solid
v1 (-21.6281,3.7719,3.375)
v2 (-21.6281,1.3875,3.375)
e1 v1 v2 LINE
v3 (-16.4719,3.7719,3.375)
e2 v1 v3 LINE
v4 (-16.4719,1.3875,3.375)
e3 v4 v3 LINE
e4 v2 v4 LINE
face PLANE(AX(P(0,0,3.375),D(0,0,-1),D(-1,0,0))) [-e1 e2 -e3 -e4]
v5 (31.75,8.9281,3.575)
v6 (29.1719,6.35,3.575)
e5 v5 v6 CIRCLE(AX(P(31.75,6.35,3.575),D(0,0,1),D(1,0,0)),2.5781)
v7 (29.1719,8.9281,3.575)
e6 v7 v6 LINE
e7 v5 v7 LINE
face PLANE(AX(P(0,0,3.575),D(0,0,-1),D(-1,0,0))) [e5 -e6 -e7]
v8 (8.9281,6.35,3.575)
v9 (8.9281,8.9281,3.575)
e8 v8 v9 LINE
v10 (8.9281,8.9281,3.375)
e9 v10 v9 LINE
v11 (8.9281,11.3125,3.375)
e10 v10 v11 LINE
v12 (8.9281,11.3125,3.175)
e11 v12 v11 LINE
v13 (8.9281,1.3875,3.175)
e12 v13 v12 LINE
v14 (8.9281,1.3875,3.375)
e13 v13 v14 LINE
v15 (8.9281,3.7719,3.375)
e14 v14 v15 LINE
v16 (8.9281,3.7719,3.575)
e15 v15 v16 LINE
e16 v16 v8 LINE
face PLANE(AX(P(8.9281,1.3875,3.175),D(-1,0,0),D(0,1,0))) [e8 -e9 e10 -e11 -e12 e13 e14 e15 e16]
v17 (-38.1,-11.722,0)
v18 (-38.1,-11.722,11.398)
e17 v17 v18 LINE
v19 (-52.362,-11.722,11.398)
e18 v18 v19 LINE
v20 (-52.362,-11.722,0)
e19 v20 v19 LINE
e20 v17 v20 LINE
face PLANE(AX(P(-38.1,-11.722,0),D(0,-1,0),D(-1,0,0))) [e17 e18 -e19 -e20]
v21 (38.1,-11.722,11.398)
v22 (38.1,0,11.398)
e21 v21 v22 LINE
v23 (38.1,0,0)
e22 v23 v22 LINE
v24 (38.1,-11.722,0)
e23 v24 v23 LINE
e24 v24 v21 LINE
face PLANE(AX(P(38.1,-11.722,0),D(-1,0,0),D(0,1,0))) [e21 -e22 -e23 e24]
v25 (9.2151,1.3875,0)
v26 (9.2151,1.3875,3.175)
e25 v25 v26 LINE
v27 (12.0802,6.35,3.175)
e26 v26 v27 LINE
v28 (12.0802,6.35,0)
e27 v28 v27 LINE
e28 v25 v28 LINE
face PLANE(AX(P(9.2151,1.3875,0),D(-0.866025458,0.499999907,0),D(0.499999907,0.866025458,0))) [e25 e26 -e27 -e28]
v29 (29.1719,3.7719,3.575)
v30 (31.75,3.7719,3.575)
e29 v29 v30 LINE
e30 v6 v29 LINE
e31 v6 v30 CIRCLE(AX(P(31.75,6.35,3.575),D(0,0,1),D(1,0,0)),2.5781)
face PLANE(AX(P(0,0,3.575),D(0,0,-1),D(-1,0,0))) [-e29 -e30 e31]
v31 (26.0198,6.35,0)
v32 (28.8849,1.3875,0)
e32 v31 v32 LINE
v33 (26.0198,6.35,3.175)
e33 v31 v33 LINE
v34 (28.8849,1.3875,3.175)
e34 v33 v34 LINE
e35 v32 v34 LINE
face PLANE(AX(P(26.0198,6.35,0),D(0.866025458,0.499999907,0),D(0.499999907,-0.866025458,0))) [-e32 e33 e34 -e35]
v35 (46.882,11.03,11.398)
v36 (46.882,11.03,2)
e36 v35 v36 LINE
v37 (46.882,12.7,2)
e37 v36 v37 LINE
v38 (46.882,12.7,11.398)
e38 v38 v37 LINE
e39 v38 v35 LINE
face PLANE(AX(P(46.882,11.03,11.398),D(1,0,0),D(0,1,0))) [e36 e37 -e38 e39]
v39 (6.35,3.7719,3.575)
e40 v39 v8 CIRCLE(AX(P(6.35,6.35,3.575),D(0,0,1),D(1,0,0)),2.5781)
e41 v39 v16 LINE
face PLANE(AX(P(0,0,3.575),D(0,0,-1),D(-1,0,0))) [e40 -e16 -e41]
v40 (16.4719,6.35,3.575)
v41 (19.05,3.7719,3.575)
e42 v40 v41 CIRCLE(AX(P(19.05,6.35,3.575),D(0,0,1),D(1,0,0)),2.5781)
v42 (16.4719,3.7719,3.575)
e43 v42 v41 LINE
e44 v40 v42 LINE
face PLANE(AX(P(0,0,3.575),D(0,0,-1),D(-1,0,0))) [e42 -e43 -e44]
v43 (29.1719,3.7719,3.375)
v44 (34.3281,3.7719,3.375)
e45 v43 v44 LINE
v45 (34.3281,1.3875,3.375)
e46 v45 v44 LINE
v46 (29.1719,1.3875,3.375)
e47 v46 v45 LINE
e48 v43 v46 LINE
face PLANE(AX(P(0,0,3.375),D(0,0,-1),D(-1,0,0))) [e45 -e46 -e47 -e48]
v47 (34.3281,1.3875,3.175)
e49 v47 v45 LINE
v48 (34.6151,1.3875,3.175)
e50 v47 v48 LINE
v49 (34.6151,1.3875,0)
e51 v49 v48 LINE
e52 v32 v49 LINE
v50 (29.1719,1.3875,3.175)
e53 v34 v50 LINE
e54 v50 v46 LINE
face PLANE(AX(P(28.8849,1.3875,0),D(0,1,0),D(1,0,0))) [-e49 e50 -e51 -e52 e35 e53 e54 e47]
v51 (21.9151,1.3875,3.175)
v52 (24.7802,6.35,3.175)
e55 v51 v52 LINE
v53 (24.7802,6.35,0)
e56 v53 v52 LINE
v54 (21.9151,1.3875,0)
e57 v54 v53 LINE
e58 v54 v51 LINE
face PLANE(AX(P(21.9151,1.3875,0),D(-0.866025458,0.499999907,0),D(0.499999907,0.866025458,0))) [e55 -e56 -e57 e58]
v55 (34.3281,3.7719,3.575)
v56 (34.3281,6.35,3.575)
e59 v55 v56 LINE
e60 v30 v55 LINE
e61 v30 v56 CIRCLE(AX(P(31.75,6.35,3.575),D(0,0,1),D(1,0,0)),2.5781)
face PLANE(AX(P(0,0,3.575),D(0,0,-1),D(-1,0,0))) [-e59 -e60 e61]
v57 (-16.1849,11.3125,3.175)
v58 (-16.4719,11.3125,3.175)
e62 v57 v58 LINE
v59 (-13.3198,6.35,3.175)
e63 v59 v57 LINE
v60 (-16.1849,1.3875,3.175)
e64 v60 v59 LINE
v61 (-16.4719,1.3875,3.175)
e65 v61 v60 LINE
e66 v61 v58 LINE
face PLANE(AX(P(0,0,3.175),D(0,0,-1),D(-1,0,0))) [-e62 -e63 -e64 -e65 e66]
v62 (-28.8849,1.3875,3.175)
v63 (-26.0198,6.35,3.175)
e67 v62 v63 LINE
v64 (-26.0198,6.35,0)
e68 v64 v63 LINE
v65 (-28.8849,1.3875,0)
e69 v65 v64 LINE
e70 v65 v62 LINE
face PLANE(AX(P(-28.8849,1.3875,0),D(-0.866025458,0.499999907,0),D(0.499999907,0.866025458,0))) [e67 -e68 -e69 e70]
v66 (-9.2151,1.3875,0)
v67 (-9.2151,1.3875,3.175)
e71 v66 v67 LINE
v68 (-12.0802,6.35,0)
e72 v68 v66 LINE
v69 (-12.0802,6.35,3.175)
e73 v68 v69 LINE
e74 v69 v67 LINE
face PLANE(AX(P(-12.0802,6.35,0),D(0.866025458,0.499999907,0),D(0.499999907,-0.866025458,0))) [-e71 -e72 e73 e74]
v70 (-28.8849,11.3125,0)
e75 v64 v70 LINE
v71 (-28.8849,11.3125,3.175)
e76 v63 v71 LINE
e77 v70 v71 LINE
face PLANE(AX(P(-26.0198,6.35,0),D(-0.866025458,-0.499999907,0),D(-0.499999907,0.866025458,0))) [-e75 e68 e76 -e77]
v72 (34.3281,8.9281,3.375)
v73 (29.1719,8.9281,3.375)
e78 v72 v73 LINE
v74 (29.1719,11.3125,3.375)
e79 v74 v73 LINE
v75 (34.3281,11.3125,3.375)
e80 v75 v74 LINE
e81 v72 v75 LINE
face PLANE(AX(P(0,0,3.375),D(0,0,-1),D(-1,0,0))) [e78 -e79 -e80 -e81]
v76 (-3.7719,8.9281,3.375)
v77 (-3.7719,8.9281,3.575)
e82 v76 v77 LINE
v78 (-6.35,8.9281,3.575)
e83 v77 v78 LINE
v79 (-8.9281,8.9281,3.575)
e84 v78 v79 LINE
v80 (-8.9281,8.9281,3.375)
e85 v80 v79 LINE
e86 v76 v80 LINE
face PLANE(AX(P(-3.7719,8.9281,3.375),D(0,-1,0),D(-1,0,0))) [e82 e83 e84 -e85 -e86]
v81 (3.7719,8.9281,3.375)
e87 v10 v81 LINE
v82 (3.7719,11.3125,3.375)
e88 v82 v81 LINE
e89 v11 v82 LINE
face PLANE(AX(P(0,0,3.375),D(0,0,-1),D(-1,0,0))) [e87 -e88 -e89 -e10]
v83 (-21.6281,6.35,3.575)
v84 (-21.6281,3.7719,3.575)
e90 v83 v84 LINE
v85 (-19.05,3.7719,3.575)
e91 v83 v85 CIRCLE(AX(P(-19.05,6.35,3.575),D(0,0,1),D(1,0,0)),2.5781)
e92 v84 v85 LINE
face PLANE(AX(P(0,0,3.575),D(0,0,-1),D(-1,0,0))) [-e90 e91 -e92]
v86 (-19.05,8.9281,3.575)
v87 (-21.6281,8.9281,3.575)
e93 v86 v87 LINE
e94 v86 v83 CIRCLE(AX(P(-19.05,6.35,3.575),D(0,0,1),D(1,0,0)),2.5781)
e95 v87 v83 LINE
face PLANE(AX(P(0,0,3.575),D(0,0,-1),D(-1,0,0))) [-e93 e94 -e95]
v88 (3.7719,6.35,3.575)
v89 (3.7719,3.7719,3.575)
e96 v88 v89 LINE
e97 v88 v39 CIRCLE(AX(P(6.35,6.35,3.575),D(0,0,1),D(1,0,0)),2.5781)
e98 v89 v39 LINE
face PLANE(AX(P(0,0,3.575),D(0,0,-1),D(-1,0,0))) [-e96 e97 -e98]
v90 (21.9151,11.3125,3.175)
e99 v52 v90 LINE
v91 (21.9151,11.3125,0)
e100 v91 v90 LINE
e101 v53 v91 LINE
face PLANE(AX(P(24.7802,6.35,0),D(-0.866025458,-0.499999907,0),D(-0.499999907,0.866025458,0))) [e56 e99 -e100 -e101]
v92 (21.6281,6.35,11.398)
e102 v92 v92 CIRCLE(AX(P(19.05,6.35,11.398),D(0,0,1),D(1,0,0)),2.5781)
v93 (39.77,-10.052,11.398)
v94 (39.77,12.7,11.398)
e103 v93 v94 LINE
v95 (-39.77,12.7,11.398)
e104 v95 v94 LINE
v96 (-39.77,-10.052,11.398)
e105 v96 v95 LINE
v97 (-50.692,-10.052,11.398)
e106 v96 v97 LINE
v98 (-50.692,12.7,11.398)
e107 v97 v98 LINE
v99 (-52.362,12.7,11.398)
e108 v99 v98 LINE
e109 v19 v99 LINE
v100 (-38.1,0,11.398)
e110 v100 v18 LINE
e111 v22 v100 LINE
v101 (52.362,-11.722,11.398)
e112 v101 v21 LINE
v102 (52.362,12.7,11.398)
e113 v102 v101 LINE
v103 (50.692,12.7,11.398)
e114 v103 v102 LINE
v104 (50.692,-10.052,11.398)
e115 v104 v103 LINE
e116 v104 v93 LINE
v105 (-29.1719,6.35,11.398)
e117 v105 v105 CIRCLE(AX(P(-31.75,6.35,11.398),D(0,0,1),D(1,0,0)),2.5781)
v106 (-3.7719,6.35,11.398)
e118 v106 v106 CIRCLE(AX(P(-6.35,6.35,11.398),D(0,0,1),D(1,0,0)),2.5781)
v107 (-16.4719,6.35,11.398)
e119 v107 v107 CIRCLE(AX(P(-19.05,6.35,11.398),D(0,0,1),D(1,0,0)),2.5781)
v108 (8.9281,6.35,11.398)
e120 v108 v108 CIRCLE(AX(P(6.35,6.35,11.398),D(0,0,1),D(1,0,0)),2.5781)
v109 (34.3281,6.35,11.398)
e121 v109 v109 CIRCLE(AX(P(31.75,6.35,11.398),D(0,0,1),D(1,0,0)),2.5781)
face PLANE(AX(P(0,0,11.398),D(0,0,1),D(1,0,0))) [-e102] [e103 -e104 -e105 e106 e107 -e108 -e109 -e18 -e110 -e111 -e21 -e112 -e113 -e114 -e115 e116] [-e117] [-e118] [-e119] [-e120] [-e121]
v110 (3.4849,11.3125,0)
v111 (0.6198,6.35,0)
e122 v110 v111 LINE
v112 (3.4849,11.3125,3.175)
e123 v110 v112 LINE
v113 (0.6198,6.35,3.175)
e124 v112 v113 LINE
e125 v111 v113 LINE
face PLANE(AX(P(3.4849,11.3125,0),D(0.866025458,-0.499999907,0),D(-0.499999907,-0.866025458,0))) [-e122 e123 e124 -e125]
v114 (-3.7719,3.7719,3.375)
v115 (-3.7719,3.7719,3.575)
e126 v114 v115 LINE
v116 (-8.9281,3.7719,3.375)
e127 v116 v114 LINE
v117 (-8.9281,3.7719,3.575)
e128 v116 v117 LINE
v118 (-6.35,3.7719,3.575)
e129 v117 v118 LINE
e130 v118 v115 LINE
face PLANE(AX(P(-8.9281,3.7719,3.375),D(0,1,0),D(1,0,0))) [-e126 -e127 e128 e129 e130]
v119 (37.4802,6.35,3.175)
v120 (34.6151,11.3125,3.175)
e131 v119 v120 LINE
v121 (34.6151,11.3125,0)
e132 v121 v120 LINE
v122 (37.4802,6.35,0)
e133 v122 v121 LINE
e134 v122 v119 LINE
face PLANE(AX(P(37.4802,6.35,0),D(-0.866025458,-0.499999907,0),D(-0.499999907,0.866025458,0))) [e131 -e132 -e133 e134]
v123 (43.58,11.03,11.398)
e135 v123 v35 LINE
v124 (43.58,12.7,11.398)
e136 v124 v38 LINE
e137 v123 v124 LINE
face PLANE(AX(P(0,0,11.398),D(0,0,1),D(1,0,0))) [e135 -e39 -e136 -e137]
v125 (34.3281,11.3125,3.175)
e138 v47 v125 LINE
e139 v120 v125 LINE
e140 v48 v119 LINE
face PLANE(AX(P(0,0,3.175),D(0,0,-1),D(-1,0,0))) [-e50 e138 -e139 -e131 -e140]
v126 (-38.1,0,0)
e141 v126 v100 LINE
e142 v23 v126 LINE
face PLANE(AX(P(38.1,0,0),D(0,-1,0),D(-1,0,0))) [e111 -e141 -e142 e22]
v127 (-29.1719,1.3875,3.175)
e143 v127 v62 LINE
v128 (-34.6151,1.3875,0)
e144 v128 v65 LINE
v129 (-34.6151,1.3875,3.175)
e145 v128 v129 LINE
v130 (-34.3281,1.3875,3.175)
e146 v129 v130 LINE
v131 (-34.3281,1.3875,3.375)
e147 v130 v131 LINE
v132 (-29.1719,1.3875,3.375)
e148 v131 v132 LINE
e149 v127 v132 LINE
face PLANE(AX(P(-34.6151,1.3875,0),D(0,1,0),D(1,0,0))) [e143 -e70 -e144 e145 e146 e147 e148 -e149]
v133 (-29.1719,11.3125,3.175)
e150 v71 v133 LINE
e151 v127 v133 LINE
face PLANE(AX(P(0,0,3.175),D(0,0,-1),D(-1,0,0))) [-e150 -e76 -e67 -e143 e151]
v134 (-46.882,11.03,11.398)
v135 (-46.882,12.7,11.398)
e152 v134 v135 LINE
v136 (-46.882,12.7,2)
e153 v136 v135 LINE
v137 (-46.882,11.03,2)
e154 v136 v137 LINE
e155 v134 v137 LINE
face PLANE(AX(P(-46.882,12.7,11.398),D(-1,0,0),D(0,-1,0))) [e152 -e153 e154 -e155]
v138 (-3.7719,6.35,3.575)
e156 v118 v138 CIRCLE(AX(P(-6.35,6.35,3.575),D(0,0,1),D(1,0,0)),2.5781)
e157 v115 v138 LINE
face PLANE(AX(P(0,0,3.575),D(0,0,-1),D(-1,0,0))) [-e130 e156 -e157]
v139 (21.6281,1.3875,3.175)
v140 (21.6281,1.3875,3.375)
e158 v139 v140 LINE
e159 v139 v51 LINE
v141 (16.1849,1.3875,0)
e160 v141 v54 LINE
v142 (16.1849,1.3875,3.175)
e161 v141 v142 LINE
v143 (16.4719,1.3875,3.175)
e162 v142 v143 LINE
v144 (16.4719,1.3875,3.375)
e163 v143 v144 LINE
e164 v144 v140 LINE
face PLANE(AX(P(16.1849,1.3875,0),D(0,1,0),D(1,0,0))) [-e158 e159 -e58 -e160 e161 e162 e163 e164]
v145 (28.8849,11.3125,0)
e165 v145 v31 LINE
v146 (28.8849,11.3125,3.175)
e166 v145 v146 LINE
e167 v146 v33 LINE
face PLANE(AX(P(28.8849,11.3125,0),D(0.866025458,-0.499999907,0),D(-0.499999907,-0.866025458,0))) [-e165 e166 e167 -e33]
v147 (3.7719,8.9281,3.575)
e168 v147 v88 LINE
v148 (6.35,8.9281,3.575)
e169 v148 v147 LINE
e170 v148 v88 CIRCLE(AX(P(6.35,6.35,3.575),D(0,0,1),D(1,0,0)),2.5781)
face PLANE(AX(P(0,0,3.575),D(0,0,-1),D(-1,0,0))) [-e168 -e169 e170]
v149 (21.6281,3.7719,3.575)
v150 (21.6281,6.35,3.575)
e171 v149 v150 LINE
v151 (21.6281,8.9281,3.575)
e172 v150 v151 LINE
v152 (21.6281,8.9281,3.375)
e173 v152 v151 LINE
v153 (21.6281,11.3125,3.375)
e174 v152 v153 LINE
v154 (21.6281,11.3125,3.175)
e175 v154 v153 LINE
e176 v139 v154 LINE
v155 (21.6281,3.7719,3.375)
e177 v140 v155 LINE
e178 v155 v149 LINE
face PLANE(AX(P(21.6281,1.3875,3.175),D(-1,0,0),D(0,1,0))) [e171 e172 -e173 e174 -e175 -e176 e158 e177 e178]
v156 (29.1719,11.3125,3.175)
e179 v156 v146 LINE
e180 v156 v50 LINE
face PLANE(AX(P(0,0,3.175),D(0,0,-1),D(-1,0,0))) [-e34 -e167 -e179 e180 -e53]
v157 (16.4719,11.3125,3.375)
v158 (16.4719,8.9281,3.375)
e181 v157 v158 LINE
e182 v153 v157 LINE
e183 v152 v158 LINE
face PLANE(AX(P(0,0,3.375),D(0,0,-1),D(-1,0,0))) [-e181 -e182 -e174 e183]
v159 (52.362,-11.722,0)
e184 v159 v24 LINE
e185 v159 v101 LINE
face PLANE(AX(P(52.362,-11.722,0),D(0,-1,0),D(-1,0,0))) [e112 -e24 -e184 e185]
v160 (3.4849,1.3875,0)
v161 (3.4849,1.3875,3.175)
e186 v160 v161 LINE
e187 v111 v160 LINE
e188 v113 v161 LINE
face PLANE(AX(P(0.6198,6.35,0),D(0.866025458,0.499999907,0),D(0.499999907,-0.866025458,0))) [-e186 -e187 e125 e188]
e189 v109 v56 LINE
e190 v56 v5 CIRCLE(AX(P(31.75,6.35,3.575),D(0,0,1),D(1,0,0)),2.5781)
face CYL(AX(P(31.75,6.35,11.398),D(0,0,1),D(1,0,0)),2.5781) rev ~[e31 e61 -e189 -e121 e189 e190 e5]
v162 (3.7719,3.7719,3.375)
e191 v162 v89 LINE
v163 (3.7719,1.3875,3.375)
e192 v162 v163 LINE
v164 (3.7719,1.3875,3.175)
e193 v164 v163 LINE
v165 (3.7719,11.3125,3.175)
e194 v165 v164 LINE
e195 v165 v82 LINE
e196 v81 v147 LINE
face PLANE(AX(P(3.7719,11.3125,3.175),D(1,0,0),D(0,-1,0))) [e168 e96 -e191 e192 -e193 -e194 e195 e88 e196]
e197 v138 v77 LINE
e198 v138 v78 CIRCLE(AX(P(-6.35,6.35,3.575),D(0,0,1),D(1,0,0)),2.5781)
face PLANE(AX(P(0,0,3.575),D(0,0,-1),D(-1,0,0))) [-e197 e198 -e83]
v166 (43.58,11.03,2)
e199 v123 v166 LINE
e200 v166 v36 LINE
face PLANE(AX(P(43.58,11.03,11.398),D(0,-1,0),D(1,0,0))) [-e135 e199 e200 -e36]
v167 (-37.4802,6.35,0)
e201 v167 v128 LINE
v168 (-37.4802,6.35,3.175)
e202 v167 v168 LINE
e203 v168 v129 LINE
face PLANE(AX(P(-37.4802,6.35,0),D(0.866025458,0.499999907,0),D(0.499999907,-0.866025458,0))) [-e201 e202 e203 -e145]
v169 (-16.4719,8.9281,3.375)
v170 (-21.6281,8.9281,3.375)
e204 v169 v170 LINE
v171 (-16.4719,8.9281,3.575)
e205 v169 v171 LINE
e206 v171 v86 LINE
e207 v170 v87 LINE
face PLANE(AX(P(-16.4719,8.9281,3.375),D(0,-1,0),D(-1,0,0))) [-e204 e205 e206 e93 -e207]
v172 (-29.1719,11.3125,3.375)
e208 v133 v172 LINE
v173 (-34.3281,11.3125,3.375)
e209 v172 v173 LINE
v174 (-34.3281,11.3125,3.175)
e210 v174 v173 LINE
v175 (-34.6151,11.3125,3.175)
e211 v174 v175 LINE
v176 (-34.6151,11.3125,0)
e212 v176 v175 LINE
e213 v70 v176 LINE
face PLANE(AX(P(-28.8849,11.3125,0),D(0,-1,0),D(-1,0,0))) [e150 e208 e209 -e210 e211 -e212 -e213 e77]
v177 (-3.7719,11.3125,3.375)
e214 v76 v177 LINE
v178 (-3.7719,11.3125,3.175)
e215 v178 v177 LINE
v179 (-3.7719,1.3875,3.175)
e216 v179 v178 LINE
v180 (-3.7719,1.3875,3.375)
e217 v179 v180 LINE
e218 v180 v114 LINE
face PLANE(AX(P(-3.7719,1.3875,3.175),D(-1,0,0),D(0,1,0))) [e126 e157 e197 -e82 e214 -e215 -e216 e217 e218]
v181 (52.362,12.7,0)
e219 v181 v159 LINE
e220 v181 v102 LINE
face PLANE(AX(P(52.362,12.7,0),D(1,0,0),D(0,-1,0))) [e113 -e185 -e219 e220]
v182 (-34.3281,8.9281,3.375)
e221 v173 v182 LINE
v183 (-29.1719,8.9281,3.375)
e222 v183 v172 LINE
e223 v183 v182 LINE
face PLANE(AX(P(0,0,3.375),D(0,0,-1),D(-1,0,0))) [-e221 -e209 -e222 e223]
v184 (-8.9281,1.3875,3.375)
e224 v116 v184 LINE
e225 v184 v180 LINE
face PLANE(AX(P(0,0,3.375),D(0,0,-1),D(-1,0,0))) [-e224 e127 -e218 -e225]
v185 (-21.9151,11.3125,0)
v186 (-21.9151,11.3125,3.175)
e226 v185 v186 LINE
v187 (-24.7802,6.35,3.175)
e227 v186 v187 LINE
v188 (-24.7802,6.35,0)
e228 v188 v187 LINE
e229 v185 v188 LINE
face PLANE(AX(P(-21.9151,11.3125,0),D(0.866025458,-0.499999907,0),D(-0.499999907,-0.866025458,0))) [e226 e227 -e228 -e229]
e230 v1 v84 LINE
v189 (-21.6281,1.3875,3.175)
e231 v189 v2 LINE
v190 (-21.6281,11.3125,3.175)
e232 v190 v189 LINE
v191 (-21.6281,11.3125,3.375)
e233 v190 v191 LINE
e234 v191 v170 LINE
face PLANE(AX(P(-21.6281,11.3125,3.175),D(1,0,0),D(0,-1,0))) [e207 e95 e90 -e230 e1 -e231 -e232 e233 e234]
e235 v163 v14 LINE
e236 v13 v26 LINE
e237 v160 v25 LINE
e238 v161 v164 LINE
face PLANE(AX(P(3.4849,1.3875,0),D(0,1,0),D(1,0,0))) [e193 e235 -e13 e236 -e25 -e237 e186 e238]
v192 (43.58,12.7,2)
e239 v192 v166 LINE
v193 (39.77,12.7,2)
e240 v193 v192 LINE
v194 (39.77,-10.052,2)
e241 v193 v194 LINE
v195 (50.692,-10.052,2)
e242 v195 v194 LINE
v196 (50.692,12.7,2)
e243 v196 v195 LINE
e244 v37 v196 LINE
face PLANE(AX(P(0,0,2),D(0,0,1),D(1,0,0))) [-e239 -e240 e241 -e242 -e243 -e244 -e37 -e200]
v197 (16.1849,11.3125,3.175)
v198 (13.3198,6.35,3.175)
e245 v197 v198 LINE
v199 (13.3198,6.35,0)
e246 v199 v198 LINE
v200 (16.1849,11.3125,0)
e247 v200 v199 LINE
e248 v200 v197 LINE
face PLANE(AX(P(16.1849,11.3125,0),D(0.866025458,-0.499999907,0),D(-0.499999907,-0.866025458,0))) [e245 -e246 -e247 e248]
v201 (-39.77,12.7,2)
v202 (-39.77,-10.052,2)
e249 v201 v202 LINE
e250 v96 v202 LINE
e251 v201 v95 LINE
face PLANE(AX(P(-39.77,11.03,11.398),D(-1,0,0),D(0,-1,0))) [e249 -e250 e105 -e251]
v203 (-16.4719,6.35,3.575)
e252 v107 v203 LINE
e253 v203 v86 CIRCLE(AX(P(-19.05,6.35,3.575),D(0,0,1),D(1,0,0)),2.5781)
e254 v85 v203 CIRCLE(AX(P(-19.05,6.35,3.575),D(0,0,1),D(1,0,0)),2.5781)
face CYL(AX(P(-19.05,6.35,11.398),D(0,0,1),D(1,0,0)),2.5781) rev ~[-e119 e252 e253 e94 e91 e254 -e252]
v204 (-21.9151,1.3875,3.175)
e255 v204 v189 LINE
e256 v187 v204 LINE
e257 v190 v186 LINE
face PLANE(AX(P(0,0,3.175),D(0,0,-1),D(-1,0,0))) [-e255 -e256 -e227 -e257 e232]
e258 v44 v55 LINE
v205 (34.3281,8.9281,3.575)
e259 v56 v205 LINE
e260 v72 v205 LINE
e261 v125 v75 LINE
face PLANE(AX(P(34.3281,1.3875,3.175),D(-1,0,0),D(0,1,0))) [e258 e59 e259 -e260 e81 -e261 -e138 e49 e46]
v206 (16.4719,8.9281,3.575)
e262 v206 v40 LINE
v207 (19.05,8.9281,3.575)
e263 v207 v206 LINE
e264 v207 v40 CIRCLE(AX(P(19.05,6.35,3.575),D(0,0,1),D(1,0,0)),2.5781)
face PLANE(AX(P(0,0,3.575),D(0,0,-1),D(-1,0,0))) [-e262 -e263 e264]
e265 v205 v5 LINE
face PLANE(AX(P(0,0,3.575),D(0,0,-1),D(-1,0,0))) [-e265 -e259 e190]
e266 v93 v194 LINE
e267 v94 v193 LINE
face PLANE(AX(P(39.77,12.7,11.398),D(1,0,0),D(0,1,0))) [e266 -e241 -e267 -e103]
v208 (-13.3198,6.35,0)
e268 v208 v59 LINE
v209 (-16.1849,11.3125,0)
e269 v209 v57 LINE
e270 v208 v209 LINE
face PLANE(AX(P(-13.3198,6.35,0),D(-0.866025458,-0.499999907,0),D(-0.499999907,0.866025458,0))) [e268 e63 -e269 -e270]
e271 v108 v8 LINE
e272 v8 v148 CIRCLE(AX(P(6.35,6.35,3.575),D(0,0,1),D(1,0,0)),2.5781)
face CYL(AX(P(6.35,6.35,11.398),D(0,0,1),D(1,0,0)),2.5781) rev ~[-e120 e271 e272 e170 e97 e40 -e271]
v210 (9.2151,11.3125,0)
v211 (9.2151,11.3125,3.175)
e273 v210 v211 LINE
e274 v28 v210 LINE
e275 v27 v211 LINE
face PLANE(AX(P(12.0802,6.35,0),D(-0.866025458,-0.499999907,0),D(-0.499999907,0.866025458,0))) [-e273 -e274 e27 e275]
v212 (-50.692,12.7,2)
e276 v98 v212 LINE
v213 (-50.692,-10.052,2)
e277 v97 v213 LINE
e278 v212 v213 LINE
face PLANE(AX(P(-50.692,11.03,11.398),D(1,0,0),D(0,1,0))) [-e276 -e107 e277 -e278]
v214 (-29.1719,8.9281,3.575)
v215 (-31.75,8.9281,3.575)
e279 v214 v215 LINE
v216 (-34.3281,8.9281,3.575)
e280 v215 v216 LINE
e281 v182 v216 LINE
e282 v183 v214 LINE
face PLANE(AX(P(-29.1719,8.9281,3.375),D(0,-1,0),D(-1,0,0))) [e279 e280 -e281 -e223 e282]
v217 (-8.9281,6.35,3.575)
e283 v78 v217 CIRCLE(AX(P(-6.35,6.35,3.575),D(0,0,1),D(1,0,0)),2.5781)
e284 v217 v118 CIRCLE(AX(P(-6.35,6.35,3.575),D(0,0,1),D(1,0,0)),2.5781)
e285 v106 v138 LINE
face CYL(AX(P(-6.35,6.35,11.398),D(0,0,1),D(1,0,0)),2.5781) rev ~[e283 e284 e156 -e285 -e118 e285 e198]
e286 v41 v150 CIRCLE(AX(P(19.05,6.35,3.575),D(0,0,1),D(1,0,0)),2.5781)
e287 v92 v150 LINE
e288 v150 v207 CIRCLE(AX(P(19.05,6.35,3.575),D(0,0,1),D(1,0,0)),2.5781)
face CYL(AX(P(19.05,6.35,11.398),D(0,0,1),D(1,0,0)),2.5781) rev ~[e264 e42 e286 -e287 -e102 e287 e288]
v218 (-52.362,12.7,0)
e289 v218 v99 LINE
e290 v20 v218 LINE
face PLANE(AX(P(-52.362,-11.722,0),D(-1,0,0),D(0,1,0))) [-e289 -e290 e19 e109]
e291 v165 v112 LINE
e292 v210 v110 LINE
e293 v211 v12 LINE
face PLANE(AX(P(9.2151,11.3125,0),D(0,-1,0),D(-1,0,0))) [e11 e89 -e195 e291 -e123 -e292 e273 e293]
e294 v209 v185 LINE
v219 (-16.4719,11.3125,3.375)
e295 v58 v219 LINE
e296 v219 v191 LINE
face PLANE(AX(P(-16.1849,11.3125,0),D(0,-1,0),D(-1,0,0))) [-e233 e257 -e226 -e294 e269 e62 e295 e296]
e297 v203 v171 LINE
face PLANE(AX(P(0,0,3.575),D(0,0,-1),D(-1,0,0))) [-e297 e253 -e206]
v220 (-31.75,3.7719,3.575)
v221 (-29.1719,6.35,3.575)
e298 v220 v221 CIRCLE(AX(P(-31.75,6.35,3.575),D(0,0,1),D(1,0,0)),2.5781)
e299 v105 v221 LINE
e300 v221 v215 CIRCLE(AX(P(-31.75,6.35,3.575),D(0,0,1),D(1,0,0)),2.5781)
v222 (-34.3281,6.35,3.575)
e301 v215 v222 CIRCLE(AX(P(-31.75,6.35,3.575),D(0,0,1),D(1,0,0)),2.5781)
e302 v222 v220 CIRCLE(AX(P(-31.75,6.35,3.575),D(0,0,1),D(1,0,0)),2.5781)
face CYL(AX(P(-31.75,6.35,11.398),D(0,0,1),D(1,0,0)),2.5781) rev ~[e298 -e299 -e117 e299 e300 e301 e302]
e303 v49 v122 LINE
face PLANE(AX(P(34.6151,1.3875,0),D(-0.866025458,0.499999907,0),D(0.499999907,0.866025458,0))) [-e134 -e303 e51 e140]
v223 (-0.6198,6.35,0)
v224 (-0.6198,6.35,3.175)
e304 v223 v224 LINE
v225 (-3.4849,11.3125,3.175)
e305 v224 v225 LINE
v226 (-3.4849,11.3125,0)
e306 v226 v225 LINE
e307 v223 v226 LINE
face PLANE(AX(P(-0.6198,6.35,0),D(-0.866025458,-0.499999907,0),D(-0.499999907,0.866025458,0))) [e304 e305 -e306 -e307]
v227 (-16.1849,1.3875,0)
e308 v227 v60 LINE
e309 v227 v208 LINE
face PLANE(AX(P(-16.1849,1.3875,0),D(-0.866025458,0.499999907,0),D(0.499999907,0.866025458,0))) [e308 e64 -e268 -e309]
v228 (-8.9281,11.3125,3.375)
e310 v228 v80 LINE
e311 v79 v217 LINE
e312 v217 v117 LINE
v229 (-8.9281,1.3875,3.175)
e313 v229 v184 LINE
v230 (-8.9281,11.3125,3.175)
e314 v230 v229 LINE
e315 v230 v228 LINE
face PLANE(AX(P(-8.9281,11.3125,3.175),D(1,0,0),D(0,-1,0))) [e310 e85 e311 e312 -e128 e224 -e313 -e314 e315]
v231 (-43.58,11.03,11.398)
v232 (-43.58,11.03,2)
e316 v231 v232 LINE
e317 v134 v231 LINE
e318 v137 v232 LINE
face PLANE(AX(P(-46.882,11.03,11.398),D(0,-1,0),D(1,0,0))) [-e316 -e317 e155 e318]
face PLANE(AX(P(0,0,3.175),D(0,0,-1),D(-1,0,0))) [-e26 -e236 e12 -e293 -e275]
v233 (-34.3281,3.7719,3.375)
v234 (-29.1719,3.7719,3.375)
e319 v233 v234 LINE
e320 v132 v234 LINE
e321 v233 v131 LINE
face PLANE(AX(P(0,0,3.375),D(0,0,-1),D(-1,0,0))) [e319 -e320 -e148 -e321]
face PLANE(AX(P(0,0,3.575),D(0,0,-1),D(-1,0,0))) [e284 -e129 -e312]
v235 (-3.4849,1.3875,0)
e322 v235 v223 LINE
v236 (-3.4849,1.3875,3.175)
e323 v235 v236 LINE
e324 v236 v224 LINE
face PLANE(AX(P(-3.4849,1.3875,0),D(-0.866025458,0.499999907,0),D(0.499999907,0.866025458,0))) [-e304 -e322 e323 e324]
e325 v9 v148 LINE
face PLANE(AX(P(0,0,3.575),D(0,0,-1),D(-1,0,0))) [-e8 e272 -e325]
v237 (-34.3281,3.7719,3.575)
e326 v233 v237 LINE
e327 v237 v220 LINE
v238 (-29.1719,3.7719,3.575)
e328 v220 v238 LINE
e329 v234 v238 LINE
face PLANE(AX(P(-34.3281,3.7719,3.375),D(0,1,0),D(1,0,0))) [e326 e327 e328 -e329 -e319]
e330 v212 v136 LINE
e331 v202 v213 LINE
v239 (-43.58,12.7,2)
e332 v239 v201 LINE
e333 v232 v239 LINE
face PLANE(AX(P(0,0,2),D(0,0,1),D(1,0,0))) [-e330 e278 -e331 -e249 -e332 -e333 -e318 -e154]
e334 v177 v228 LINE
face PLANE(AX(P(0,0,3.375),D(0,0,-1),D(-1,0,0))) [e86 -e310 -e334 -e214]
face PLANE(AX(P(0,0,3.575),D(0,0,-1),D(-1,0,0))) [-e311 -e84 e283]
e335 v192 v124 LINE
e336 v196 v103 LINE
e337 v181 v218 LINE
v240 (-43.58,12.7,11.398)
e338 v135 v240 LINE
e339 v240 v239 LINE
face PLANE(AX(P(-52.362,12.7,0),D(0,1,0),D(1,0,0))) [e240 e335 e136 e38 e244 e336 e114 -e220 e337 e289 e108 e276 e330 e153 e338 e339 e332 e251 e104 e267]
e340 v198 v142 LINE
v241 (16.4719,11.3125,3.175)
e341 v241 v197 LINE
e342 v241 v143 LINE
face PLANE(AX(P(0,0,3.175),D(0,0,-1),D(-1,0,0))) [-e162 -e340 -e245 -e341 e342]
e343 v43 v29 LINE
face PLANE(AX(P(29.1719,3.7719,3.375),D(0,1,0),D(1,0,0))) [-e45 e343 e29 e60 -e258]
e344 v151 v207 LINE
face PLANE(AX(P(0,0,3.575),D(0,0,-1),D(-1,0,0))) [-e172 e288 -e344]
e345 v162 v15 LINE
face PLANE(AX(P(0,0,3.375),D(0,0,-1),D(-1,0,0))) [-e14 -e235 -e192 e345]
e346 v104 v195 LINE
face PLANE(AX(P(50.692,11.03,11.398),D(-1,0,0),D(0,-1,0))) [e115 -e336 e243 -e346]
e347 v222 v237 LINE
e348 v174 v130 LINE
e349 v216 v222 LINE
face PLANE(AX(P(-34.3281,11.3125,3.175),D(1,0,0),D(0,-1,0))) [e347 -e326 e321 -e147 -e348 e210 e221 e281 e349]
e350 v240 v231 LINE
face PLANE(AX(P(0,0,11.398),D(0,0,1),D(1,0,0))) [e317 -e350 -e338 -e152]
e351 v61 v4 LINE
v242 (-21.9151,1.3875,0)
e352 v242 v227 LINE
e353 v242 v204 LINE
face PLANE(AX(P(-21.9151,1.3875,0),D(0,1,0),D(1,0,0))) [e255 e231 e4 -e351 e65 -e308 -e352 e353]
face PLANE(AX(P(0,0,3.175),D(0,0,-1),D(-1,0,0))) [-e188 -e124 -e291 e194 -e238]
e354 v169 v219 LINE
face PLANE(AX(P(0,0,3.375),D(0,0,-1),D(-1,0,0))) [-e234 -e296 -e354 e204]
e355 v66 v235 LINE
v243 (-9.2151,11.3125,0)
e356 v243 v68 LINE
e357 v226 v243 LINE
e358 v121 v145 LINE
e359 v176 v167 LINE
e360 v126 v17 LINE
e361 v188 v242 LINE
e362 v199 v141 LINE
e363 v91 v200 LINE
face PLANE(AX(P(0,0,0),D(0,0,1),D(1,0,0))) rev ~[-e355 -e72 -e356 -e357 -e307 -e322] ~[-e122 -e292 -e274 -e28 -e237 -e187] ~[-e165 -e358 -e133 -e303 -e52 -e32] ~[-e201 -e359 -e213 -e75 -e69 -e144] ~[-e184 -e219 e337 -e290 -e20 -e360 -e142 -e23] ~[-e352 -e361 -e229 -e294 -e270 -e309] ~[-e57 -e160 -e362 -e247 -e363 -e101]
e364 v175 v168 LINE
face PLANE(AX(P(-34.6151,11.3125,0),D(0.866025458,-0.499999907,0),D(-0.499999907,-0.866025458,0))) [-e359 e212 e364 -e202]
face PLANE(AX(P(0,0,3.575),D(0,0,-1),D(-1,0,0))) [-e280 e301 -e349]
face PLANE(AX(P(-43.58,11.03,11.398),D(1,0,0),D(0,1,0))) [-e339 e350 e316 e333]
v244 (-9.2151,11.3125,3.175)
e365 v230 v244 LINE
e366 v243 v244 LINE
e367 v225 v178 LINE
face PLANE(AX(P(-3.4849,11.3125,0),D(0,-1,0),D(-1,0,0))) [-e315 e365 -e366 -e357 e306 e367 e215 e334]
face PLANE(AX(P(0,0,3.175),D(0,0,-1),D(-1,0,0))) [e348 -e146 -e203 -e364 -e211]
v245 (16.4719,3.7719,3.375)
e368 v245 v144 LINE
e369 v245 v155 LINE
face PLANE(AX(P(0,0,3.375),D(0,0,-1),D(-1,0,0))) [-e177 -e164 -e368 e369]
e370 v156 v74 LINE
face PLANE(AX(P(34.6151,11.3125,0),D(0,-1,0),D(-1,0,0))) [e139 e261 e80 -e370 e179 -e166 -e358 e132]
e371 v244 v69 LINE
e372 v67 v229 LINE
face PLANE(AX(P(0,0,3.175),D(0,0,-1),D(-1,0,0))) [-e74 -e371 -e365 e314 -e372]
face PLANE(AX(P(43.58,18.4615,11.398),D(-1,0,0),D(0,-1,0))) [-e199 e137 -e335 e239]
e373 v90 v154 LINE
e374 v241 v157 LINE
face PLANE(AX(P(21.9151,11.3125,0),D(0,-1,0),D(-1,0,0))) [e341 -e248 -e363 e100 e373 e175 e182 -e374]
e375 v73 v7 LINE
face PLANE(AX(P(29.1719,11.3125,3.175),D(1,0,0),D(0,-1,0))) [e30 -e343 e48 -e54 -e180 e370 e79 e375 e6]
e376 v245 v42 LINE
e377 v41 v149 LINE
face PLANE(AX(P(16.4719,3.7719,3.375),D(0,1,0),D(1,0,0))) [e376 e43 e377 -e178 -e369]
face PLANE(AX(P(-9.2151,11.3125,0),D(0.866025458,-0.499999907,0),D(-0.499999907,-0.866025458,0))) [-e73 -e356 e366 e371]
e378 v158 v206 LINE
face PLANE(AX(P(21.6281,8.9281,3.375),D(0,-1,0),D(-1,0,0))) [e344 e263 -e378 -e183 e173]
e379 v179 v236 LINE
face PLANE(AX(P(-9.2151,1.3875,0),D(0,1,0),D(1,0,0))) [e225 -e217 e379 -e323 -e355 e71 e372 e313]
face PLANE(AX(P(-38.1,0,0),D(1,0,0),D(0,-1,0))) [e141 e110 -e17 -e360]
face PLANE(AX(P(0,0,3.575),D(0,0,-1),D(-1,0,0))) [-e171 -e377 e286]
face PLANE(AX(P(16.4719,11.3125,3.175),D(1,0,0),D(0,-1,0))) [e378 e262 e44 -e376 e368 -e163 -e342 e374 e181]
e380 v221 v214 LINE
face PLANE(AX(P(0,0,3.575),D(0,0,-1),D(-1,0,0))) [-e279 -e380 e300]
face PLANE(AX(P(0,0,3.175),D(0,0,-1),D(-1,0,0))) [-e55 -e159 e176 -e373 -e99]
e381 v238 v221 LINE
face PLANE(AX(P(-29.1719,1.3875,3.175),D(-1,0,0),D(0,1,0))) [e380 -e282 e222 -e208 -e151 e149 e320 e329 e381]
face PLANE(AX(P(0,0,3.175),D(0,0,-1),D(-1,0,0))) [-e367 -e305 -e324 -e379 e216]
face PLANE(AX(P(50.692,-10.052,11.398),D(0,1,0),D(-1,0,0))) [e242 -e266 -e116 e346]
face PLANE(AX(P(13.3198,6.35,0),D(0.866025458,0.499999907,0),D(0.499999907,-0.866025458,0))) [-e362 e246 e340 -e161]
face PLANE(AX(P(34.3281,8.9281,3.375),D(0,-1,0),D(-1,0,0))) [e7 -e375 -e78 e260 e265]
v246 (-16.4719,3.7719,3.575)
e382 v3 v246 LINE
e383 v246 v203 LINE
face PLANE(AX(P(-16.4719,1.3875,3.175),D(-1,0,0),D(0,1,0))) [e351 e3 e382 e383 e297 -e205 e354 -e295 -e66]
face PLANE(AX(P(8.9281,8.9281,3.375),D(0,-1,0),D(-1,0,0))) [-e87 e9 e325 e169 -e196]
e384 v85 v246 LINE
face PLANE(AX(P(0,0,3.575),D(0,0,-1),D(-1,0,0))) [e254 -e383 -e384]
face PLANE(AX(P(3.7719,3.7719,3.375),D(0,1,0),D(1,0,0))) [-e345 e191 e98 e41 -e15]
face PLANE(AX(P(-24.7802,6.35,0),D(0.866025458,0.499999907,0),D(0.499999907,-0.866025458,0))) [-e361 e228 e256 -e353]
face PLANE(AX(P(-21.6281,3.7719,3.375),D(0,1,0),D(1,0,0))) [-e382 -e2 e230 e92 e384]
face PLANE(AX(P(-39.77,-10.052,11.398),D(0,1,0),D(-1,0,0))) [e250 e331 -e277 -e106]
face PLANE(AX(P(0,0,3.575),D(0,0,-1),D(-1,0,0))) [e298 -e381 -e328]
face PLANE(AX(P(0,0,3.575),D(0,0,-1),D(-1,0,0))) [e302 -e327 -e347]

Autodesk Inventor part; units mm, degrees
ref_plane "YZ Plane" through (0, 0, 0) normal (1, 0, 0) x (0, 1, 0)
ref_plane "XZ Plane" through (0, 0, 0) normal (0, 1, 0) x (-1, 0, 0)
ref_plane "XY Plane" through (0, 0, 0) normal (0, 0, 1) x (1, 0, 0)
sketch "Sketch1" plane through (0, 0, 0) normal (0, 0, 1) x (1, 0, 0)
  line L0 (-52.362, 12.7) -> (-38.1, 12.7)
  line L1 (-38.1, 12.7) -> (-38.1, -11.722)
  line L2 (-38.1, -11.722) -> (-52.362, -11.722)
  line L3 (-52.362, -11.722) -> (-52.362, 12.7)
  line L4 (-38.1, 12.7) -> (38.1, 12.7)
  line L5 (38.1, 12.7) -> (38.1, 0)
  line L6 (38.1, 0) -> (-38.1, 0)
  line L7 (-38.1, 0) -> (-38.1, 12.7)
  line L8 (38.1, 12.7) -> (52.362, 12.7)
  line L9 (52.362, 12.7) -> (52.362, -11.722)
  line L10 (52.362, -11.722) -> (38.1, -11.722)
  line L11 (38.1, -11.722) -> (38.1, 12.7)
  point P0 (0, 0)
  dimension "d0" = 14.262
  dimension "d1" = 12.7
  dimension "d2" = 24.422
  dimension "d3" = 76.2
  dimension "d4" = 38.1
extrude "Extrusion1" add sketch "Sketch1" along normal blind 11.398
sketch "Sketch2" plane through (0, 0, 11.398) normal (0, 0, 1) x (1, 0, 0)
  line L0 (-50.692, 11.03) -> (-39.77, 11.03)
  line L1 (-39.77, 11.03) -> (-39.77, -10.052)
  line L2 (-39.77, -10.052) -> (-50.692, -10.052)
  line L3 (-50.692, -10.052) -> (-50.692, 11.03)
  line L4 (39.77, 11.03) -> (50.692, 11.03)
  line L5 (50.692, 11.03) -> (50.692, -10.052)
  line L6 (50.692, -10.052) -> (39.77, -10.052)
  line L7 (39.77, -10.052) -> (39.77, 11.03)
  line L8 (52.362, 12.7) -> (-52.362, 12.7) projected
  line L9 (-52.362, 12.7) -> (-52.362, -11.722) projected
  line L10 (52.362, -11.722) -> (52.362, 12.7) projected
  line L11 (-50.692, 18.6326) -> (-46.882, 18.6326)
  line L12 (-46.882, 18.6326) -> (-46.882, 11.03)
  line L13 (-46.882, 11.03) -> (-50.692, 11.03)
  line L14 (-50.692, 11.03) -> (-50.692, 18.6326)
  line L15 (-43.58, 18.6326) -> (-39.77, 18.6326)
  line L16 (-39.77, 18.6326) -> (-39.77, 11.03)
  line L17 (-39.77, 11.03) -> (-43.58, 11.03)
  line L18 (-43.58, 11.03) -> (-43.58, 18.6326)
  line L19 (39.77, 18.4615) -> (43.58, 18.4615)
  line L20 (43.58, 18.4615) -> (43.58, 11.03)
  line L21 (43.58, 11.03) -> (39.77, 11.03)
  line L22 (39.77, 11.03) -> (39.77, 18.4615)
  line L23 (46.882, 18.4615) -> (50.692, 18.4615)
  line L24 (50.692, 18.4615) -> (50.692, 11.03)
  line L25 (50.692, 11.03) -> (46.882, 11.03)
  line L26 (46.882, 11.03) -> (46.882, 18.4615)
  point P0 (0, 0)
  point P1 (-43.58, 12.7)
  point P2 (-46.882, 12.7)
  point P3 (46.882, 12.7)
  point P4 (43.58, 12.7)
  dimension "d7" = 10.922
  dimension "d8" = 21.082
  dimension "d9" = 1.67
  dimension "d10" = 1.67
  dimension "d11" = 1.67
  dimension "d12" = 3.302
extrude "Extrusion2" cut sketch "Sketch2" against normal blind 9.398 contours L14 L8 L12 L0 | L0 L1 L2 L3 | L22 L19 L20 L8 | L8 L20 L4 L22 | L14 L11 L12 L8 | L18 L8 L16 L0 | L18 L15 L16 L8 | L4 L5 L6 L7 | L26 L23 L24 L8 | L8 L24 L4 L26
sketch "Sketch3" plane through (0, 0, 11.398) normal (0, 0, 1) x (1, 0, 0)
  circle A0 centre (-31.75, 6.35) radius 2.5781
  line L0 (-38.1, 0) -> (38.1, 0) projected
  circle A1 centre (-19.05, 6.35) radius 2.5781
  circle A2 centre (-6.35, 6.35) radius 2.5781
  circle A3 centre (6.35, 6.35) radius 2.5781
  circle A4 centre (19.05, 6.35) radius 2.5781
  circle A5 centre (31.75, 6.35) radius 2.5781
  point P0 (0, 0)
  dimension "d15" = 5.1562
  dimension "d16" = 6.35
  dimension "d17" = 31.75
  dimension "d23" = 12.7
extrude "Extrusion3" cut sketch "Sketch3" against normal through all
sketch "Sketch5" plane through (0, 0, 0) normal (0, 0, -1) x (-1, 0, 0)
  circle A0 centre (31.75, 6.35) radius 2.5781 projected
  line L0 (28.8849, 11.3125) -> (34.6151, 11.3125)
  line L1 (34.6151, 11.3125) -> (37.4802, 6.35)
  line L2 (37.4802, 6.35) -> (34.6151, 1.3875)
  line L3 (34.6151, 1.3875) -> (28.8849, 1.3875)
  line L4 (28.8849, 1.3875) -> (26.0198, 6.35)
  line L5 (26.0198, 6.35) -> (28.8849, 11.3125)
  line L6 (-52.362, 12.7) -> (52.362, 12.7) projected
  line L7 (16.1849, 11.3125) -> (21.9151, 11.3125)
  line L8 (21.9151, 11.3125) -> (24.7802, 6.35)
  line L9 (24.7802, 6.35) -> (21.9151, 1.3875)
  line L10 (21.9151, 1.3875) -> (16.1849, 1.3875)
  line L11 (16.1849, 1.3875) -> (13.3198, 6.35)
  line L12 (13.3198, 6.35) -> (16.1849, 11.3125)
  line L13 (3.4849, 11.3125) -> (9.2151, 11.3125)
  line L14 (9.2151, 11.3125) -> (12.0802, 6.35)
  line L15 (12.0802, 6.35) -> (9.2151, 1.3875)
  line L16 (9.2151, 1.3875) -> (3.4849, 1.3875)
  line L17 (3.4849, 1.3875) -> (0.6198, 6.35)
  line L18 (0.6198, 6.35) -> (3.4849, 11.3125)
  line L19 (-9.2151, 11.3125) -> (-3.4849, 11.3125)
  line L20 (-3.4849, 11.3125) -> (-0.6198, 6.35)
  line L21 (-0.6198, 6.35) -> (-3.4849, 1.3875)
  line L22 (-3.4849, 1.3875) -> (-9.2151, 1.3875)
  line L23 (-9.2151, 1.3875) -> (-12.0802, 6.35)
  line L24 (-12.0802, 6.35) -> (-9.2151, 11.3125)
  line L25 (-21.9151, 11.3125) -> (-16.1849, 11.3125)
  line L26 (-16.1849, 11.3125) -> (-13.3198, 6.35)
  line L27 (-13.3198, 6.35) -> (-16.1849, 1.3875)
  line L28 (-16.1849, 1.3875) -> (-21.9151, 1.3875)
  line L29 (-21.9151, 1.3875) -> (-24.7802, 6.35)
  line L30 (-24.7802, 6.35) -> (-21.9151, 11.3125)
  line L31 (-34.6151, 11.3125) -> (-28.8849, 11.3125)
  line L32 (-28.8849, 11.3125) -> (-26.0198, 6.35)
  line L33 (-26.0198, 6.35) -> (-28.8849, 1.3875)
  line L34 (-28.8849, 1.3875) -> (-34.6151, 1.3875)
  line L35 (-34.6151, 1.3875) -> (-37.4802, 6.35)
  line L36 (-37.4802, 6.35) -> (-34.6151, 11.3125)
  point P0 (19.05, 6.35)
  point P1 (6.35, 6.35)
  point P2 (-6.35, 6.35)
  point P3 (-19.05, 6.35)
  point P4 (-31.75, 6.35)
  dimension "d28" = 9.925
  dimension "d31" = 12.7
extrude "Extrusion4" cut sketch "Sketch5" against normal blind 3.175 contours A0 | L0 L1 L2 L3 L4 L5 | L7 L8 L9 L10 L11 L12 | L13 L14 L15 L16 L17 L18 | L19 L20 L21 L22 L23 L24 | L25 L26 L27 L28 L29 L30 | L31 L32 L33 L34 L35 L36
sketch "Sketch6" plane through (0, 0, 3.175) normal (0, 0, -1) x (-1, 0, 0)
  line L0 (-34.3281, 11.3125) -> (-29.1719, 11.3125)
  line L1 (-29.1719, 11.3125) -> (-29.1719, 1.3875)
  line L2 (-29.1719, 1.3875) -> (-34.3281, 1.3875)
  line L3 (-34.3281, 1.3875) -> (-34.3281, 11.3125)
  circle A0 centre (-31.75, 6.35) radius 2.5781 construction
  line L4 (-34.3281, 11.3125) -> (-29.1719, 1.3875) construction
  line L5 (-29.1719, 11.3125) -> (-34.3281, 1.3875) construction
  line L6 (-34.6151, 11.3125) -> (-28.8849, 11.3125) projected
  line L7 (-52.362, 12.7) -> (52.362, 12.7) projected
  line L8 (-21.6281, 11.3125) -> (-16.4719, 11.3125)
  line L9 (-16.4719, 11.3125) -> (-16.4719, 1.3875)
  line L10 (-16.4719, 1.3875) -> (-21.6281, 1.3875)
  line L11 (-21.6281, 1.3875) -> (-21.6281, 11.3125)
  line L12 (-21.6281, 11.3125) -> (-16.4719, 1.3875) construction
  line L13 (-16.4719, 11.3125) -> (-21.6281, 1.3875) construction
  line L14 (-8.9281, 11.3125) -> (-3.7719, 11.3125)
  line L15 (-3.7719, 11.3125) -> (-3.7719, 1.3875)
  line L16 (-3.7719, 1.3875) -> (-8.9281, 1.3875)
  line L17 (-8.9281, 1.3875) -> (-8.9281, 11.3125)
  line L18 (-8.9281, 11.3125) -> (-3.7719, 1.3875) construction
  line L19 (-3.7719, 11.3125) -> (-8.9281, 1.3875) construction
  line L20 (3.7719, 11.3125) -> (8.9281, 11.3125)
  line L21 (8.9281, 11.3125) -> (8.9281, 1.3875)
  line L22 (8.9281, 1.3875) -> (3.7719, 1.3875)
  line L23 (3.7719, 1.3875) -> (3.7719, 11.3125)
  line L24 (3.7719, 11.3125) -> (8.9281, 1.3875) construction
  line L25 (8.9281, 11.3125) -> (3.7719, 1.3875) construction
  line L26 (16.4719, 11.3125) -> (21.6281, 11.3125)
  line L27 (21.6281, 11.3125) -> (21.6281, 1.3875)
  line L28 (21.6281, 1.3875) -> (16.4719, 1.3875)
  line L29 (16.4719, 1.3875) -> (16.4719, 11.3125)
  line L30 (16.4719, 11.3125) -> (21.6281, 1.3875) construction
  line L31 (21.6281, 11.3125) -> (16.4719, 1.3875) construction
  line L32 (29.1719, 11.3125) -> (34.3281, 11.3125)
  line L33 (34.3281, 11.3125) -> (34.3281, 1.3875)
  line L34 (34.3281, 1.3875) -> (29.1719, 1.3875)
  line L35 (29.1719, 1.3875) -> (29.1719, 11.3125)
  line L36 (29.1719, 11.3125) -> (34.3281, 1.3875) construction
  line L37 (34.3281, 11.3125) -> (29.1719, 1.3875) construction
  point P0 (0, 0)
  point P1 (-19.05, 6.35)
  point P2 (-6.35, 6.35)
  point P3 (6.35, 6.35)
  point P4 (19.05, 6.35)
  point P5 (31.75, 6.35)
  dimension "d40" = 12.7
extrude "Extrusion5" cut sketch "Sketch6" against normal blind 0.2
sketch "Sketch7" plane through (0, 0, 3.375) normal (0, 0, -1) x (-1, 0, 0)
  line L0 (-29.1719, 3.7719) -> (-34.3281, 3.7719)
  line L1 (-34.3281, 3.7719) -> (-34.3281, 8.9281)
  line L2 (-34.3281, 8.9281) -> (-29.1719, 8.9281)
  line L3 (-29.1719, 8.9281) -> (-29.1719, 3.7719)
  circle A0 centre (-31.75, 6.35) radius 2.5781 construction
  line L4 (-29.1719, 3.7719) -> (-34.3281, 8.9281) construction
  line L5 (-34.3281, 3.7719) -> (-29.1719, 8.9281) construction
  line L6 (-52.362, 12.7) -> (52.362, 12.7) projected
  line L7 (-16.4719, 3.7719) -> (-21.6281, 3.7719)
  line L8 (-21.6281, 3.7719) -> (-21.6281, 8.9281)
  line L9 (-21.6281, 8.9281) -> (-16.4719, 8.9281)
  line L10 (-16.4719, 8.9281) -> (-16.4719, 3.7719)
  line L11 (-16.4719, 3.7719) -> (-21.6281, 8.9281) construction
  line L12 (-21.6281, 3.7719) -> (-16.4719, 8.9281) construction
  line L13 (-3.7719, 3.7719) -> (-8.9281, 3.7719)
  line L14 (-8.9281, 3.7719) -> (-8.9281, 8.9281)
  line L15 (-8.9281, 8.9281) -> (-3.7719, 8.9281)
  line L16 (-3.7719, 8.9281) -> (-3.7719, 3.7719)
  line L17 (-3.7719, 3.7719) -> (-8.9281, 8.9281) construction
  line L18 (-8.9281, 3.7719) -> (-3.7719, 8.9281) construction
  line L19 (8.9281, 3.7719) -> (3.7719, 3.7719)
  line L20 (3.7719, 3.7719) -> (3.7719, 8.9281)
  line L21 (3.7719, 8.9281) -> (8.9281, 8.9281)
  line L22 (8.9281, 8.9281) -> (8.9281, 3.7719)
  line L23 (8.9281, 3.7719) -> (3.7719, 8.9281) construction
  line L24 (3.7719, 3.7719) -> (8.9281, 8.9281) construction
  line L25 (21.6281, 3.7719) -> (16.4719, 3.7719)
  line L26 (16.4719, 3.7719) -> (16.4719, 8.9281)
  line L27 (16.4719, 8.9281) -> (21.6281, 8.9281)
  line L28 (21.6281, 8.9281) -> (21.6281, 3.7719)
  line L29 (21.6281, 3.7719) -> (16.4719, 8.9281) construction
  line L30 (16.4719, 3.7719) -> (21.6281, 8.9281) construction
  line L31 (34.3281, 3.7719) -> (29.1719, 3.7719)
  line L32 (29.1719, 3.7719) -> (29.1719, 8.9281)
  line L33 (29.1719, 8.9281) -> (34.3281, 8.9281)
  line L34 (34.3281, 8.9281) -> (34.3281, 3.7719)
  line L35 (34.3281, 3.7719) -> (29.1719, 8.9281) construction
  line L36 (29.1719, 3.7719) -> (34.3281, 8.9281) construction
  point P0 (0, 0)
  point P1 (-19.05, 6.35)
  point P2 (-6.35, 6.35)
  point P3 (6.35, 6.35)
  point P4 (19.05, 6.35)
  point P5 (31.75, 6.35)
  dimension "d49" = 12.7
extrude "Extrusion6" cut sketch "Sketch7" against normal blind 0.2
equation "\"d0\" = SensorWide + 2 * WallThick"
equation "\"d2\" = SensorTall + 2 * WallThick"
equation "\"d4\" = 0.5 * d3"
equation "\"d7\" = SensorWide"
equation "\"d8\" = SensorTall"
equation "\"d9\" = WallThick"
equation "\"d10\" = WallThick"
equation "\"d11\" = WallThick"
equation "\"d12\" = SensorCableTabWide"
equation "\"d13\" = SensorThick"
equation "\"WallThick\" = 1.67"
equation "\"SensorWide\" = 10.922"
equation "\"SensorTall\" = 21.082"
equation "\"SensorThick\" = 9.398"
equation "\"SensorCableTabWide\" = 3.302"
properties part number "SensorMount"
